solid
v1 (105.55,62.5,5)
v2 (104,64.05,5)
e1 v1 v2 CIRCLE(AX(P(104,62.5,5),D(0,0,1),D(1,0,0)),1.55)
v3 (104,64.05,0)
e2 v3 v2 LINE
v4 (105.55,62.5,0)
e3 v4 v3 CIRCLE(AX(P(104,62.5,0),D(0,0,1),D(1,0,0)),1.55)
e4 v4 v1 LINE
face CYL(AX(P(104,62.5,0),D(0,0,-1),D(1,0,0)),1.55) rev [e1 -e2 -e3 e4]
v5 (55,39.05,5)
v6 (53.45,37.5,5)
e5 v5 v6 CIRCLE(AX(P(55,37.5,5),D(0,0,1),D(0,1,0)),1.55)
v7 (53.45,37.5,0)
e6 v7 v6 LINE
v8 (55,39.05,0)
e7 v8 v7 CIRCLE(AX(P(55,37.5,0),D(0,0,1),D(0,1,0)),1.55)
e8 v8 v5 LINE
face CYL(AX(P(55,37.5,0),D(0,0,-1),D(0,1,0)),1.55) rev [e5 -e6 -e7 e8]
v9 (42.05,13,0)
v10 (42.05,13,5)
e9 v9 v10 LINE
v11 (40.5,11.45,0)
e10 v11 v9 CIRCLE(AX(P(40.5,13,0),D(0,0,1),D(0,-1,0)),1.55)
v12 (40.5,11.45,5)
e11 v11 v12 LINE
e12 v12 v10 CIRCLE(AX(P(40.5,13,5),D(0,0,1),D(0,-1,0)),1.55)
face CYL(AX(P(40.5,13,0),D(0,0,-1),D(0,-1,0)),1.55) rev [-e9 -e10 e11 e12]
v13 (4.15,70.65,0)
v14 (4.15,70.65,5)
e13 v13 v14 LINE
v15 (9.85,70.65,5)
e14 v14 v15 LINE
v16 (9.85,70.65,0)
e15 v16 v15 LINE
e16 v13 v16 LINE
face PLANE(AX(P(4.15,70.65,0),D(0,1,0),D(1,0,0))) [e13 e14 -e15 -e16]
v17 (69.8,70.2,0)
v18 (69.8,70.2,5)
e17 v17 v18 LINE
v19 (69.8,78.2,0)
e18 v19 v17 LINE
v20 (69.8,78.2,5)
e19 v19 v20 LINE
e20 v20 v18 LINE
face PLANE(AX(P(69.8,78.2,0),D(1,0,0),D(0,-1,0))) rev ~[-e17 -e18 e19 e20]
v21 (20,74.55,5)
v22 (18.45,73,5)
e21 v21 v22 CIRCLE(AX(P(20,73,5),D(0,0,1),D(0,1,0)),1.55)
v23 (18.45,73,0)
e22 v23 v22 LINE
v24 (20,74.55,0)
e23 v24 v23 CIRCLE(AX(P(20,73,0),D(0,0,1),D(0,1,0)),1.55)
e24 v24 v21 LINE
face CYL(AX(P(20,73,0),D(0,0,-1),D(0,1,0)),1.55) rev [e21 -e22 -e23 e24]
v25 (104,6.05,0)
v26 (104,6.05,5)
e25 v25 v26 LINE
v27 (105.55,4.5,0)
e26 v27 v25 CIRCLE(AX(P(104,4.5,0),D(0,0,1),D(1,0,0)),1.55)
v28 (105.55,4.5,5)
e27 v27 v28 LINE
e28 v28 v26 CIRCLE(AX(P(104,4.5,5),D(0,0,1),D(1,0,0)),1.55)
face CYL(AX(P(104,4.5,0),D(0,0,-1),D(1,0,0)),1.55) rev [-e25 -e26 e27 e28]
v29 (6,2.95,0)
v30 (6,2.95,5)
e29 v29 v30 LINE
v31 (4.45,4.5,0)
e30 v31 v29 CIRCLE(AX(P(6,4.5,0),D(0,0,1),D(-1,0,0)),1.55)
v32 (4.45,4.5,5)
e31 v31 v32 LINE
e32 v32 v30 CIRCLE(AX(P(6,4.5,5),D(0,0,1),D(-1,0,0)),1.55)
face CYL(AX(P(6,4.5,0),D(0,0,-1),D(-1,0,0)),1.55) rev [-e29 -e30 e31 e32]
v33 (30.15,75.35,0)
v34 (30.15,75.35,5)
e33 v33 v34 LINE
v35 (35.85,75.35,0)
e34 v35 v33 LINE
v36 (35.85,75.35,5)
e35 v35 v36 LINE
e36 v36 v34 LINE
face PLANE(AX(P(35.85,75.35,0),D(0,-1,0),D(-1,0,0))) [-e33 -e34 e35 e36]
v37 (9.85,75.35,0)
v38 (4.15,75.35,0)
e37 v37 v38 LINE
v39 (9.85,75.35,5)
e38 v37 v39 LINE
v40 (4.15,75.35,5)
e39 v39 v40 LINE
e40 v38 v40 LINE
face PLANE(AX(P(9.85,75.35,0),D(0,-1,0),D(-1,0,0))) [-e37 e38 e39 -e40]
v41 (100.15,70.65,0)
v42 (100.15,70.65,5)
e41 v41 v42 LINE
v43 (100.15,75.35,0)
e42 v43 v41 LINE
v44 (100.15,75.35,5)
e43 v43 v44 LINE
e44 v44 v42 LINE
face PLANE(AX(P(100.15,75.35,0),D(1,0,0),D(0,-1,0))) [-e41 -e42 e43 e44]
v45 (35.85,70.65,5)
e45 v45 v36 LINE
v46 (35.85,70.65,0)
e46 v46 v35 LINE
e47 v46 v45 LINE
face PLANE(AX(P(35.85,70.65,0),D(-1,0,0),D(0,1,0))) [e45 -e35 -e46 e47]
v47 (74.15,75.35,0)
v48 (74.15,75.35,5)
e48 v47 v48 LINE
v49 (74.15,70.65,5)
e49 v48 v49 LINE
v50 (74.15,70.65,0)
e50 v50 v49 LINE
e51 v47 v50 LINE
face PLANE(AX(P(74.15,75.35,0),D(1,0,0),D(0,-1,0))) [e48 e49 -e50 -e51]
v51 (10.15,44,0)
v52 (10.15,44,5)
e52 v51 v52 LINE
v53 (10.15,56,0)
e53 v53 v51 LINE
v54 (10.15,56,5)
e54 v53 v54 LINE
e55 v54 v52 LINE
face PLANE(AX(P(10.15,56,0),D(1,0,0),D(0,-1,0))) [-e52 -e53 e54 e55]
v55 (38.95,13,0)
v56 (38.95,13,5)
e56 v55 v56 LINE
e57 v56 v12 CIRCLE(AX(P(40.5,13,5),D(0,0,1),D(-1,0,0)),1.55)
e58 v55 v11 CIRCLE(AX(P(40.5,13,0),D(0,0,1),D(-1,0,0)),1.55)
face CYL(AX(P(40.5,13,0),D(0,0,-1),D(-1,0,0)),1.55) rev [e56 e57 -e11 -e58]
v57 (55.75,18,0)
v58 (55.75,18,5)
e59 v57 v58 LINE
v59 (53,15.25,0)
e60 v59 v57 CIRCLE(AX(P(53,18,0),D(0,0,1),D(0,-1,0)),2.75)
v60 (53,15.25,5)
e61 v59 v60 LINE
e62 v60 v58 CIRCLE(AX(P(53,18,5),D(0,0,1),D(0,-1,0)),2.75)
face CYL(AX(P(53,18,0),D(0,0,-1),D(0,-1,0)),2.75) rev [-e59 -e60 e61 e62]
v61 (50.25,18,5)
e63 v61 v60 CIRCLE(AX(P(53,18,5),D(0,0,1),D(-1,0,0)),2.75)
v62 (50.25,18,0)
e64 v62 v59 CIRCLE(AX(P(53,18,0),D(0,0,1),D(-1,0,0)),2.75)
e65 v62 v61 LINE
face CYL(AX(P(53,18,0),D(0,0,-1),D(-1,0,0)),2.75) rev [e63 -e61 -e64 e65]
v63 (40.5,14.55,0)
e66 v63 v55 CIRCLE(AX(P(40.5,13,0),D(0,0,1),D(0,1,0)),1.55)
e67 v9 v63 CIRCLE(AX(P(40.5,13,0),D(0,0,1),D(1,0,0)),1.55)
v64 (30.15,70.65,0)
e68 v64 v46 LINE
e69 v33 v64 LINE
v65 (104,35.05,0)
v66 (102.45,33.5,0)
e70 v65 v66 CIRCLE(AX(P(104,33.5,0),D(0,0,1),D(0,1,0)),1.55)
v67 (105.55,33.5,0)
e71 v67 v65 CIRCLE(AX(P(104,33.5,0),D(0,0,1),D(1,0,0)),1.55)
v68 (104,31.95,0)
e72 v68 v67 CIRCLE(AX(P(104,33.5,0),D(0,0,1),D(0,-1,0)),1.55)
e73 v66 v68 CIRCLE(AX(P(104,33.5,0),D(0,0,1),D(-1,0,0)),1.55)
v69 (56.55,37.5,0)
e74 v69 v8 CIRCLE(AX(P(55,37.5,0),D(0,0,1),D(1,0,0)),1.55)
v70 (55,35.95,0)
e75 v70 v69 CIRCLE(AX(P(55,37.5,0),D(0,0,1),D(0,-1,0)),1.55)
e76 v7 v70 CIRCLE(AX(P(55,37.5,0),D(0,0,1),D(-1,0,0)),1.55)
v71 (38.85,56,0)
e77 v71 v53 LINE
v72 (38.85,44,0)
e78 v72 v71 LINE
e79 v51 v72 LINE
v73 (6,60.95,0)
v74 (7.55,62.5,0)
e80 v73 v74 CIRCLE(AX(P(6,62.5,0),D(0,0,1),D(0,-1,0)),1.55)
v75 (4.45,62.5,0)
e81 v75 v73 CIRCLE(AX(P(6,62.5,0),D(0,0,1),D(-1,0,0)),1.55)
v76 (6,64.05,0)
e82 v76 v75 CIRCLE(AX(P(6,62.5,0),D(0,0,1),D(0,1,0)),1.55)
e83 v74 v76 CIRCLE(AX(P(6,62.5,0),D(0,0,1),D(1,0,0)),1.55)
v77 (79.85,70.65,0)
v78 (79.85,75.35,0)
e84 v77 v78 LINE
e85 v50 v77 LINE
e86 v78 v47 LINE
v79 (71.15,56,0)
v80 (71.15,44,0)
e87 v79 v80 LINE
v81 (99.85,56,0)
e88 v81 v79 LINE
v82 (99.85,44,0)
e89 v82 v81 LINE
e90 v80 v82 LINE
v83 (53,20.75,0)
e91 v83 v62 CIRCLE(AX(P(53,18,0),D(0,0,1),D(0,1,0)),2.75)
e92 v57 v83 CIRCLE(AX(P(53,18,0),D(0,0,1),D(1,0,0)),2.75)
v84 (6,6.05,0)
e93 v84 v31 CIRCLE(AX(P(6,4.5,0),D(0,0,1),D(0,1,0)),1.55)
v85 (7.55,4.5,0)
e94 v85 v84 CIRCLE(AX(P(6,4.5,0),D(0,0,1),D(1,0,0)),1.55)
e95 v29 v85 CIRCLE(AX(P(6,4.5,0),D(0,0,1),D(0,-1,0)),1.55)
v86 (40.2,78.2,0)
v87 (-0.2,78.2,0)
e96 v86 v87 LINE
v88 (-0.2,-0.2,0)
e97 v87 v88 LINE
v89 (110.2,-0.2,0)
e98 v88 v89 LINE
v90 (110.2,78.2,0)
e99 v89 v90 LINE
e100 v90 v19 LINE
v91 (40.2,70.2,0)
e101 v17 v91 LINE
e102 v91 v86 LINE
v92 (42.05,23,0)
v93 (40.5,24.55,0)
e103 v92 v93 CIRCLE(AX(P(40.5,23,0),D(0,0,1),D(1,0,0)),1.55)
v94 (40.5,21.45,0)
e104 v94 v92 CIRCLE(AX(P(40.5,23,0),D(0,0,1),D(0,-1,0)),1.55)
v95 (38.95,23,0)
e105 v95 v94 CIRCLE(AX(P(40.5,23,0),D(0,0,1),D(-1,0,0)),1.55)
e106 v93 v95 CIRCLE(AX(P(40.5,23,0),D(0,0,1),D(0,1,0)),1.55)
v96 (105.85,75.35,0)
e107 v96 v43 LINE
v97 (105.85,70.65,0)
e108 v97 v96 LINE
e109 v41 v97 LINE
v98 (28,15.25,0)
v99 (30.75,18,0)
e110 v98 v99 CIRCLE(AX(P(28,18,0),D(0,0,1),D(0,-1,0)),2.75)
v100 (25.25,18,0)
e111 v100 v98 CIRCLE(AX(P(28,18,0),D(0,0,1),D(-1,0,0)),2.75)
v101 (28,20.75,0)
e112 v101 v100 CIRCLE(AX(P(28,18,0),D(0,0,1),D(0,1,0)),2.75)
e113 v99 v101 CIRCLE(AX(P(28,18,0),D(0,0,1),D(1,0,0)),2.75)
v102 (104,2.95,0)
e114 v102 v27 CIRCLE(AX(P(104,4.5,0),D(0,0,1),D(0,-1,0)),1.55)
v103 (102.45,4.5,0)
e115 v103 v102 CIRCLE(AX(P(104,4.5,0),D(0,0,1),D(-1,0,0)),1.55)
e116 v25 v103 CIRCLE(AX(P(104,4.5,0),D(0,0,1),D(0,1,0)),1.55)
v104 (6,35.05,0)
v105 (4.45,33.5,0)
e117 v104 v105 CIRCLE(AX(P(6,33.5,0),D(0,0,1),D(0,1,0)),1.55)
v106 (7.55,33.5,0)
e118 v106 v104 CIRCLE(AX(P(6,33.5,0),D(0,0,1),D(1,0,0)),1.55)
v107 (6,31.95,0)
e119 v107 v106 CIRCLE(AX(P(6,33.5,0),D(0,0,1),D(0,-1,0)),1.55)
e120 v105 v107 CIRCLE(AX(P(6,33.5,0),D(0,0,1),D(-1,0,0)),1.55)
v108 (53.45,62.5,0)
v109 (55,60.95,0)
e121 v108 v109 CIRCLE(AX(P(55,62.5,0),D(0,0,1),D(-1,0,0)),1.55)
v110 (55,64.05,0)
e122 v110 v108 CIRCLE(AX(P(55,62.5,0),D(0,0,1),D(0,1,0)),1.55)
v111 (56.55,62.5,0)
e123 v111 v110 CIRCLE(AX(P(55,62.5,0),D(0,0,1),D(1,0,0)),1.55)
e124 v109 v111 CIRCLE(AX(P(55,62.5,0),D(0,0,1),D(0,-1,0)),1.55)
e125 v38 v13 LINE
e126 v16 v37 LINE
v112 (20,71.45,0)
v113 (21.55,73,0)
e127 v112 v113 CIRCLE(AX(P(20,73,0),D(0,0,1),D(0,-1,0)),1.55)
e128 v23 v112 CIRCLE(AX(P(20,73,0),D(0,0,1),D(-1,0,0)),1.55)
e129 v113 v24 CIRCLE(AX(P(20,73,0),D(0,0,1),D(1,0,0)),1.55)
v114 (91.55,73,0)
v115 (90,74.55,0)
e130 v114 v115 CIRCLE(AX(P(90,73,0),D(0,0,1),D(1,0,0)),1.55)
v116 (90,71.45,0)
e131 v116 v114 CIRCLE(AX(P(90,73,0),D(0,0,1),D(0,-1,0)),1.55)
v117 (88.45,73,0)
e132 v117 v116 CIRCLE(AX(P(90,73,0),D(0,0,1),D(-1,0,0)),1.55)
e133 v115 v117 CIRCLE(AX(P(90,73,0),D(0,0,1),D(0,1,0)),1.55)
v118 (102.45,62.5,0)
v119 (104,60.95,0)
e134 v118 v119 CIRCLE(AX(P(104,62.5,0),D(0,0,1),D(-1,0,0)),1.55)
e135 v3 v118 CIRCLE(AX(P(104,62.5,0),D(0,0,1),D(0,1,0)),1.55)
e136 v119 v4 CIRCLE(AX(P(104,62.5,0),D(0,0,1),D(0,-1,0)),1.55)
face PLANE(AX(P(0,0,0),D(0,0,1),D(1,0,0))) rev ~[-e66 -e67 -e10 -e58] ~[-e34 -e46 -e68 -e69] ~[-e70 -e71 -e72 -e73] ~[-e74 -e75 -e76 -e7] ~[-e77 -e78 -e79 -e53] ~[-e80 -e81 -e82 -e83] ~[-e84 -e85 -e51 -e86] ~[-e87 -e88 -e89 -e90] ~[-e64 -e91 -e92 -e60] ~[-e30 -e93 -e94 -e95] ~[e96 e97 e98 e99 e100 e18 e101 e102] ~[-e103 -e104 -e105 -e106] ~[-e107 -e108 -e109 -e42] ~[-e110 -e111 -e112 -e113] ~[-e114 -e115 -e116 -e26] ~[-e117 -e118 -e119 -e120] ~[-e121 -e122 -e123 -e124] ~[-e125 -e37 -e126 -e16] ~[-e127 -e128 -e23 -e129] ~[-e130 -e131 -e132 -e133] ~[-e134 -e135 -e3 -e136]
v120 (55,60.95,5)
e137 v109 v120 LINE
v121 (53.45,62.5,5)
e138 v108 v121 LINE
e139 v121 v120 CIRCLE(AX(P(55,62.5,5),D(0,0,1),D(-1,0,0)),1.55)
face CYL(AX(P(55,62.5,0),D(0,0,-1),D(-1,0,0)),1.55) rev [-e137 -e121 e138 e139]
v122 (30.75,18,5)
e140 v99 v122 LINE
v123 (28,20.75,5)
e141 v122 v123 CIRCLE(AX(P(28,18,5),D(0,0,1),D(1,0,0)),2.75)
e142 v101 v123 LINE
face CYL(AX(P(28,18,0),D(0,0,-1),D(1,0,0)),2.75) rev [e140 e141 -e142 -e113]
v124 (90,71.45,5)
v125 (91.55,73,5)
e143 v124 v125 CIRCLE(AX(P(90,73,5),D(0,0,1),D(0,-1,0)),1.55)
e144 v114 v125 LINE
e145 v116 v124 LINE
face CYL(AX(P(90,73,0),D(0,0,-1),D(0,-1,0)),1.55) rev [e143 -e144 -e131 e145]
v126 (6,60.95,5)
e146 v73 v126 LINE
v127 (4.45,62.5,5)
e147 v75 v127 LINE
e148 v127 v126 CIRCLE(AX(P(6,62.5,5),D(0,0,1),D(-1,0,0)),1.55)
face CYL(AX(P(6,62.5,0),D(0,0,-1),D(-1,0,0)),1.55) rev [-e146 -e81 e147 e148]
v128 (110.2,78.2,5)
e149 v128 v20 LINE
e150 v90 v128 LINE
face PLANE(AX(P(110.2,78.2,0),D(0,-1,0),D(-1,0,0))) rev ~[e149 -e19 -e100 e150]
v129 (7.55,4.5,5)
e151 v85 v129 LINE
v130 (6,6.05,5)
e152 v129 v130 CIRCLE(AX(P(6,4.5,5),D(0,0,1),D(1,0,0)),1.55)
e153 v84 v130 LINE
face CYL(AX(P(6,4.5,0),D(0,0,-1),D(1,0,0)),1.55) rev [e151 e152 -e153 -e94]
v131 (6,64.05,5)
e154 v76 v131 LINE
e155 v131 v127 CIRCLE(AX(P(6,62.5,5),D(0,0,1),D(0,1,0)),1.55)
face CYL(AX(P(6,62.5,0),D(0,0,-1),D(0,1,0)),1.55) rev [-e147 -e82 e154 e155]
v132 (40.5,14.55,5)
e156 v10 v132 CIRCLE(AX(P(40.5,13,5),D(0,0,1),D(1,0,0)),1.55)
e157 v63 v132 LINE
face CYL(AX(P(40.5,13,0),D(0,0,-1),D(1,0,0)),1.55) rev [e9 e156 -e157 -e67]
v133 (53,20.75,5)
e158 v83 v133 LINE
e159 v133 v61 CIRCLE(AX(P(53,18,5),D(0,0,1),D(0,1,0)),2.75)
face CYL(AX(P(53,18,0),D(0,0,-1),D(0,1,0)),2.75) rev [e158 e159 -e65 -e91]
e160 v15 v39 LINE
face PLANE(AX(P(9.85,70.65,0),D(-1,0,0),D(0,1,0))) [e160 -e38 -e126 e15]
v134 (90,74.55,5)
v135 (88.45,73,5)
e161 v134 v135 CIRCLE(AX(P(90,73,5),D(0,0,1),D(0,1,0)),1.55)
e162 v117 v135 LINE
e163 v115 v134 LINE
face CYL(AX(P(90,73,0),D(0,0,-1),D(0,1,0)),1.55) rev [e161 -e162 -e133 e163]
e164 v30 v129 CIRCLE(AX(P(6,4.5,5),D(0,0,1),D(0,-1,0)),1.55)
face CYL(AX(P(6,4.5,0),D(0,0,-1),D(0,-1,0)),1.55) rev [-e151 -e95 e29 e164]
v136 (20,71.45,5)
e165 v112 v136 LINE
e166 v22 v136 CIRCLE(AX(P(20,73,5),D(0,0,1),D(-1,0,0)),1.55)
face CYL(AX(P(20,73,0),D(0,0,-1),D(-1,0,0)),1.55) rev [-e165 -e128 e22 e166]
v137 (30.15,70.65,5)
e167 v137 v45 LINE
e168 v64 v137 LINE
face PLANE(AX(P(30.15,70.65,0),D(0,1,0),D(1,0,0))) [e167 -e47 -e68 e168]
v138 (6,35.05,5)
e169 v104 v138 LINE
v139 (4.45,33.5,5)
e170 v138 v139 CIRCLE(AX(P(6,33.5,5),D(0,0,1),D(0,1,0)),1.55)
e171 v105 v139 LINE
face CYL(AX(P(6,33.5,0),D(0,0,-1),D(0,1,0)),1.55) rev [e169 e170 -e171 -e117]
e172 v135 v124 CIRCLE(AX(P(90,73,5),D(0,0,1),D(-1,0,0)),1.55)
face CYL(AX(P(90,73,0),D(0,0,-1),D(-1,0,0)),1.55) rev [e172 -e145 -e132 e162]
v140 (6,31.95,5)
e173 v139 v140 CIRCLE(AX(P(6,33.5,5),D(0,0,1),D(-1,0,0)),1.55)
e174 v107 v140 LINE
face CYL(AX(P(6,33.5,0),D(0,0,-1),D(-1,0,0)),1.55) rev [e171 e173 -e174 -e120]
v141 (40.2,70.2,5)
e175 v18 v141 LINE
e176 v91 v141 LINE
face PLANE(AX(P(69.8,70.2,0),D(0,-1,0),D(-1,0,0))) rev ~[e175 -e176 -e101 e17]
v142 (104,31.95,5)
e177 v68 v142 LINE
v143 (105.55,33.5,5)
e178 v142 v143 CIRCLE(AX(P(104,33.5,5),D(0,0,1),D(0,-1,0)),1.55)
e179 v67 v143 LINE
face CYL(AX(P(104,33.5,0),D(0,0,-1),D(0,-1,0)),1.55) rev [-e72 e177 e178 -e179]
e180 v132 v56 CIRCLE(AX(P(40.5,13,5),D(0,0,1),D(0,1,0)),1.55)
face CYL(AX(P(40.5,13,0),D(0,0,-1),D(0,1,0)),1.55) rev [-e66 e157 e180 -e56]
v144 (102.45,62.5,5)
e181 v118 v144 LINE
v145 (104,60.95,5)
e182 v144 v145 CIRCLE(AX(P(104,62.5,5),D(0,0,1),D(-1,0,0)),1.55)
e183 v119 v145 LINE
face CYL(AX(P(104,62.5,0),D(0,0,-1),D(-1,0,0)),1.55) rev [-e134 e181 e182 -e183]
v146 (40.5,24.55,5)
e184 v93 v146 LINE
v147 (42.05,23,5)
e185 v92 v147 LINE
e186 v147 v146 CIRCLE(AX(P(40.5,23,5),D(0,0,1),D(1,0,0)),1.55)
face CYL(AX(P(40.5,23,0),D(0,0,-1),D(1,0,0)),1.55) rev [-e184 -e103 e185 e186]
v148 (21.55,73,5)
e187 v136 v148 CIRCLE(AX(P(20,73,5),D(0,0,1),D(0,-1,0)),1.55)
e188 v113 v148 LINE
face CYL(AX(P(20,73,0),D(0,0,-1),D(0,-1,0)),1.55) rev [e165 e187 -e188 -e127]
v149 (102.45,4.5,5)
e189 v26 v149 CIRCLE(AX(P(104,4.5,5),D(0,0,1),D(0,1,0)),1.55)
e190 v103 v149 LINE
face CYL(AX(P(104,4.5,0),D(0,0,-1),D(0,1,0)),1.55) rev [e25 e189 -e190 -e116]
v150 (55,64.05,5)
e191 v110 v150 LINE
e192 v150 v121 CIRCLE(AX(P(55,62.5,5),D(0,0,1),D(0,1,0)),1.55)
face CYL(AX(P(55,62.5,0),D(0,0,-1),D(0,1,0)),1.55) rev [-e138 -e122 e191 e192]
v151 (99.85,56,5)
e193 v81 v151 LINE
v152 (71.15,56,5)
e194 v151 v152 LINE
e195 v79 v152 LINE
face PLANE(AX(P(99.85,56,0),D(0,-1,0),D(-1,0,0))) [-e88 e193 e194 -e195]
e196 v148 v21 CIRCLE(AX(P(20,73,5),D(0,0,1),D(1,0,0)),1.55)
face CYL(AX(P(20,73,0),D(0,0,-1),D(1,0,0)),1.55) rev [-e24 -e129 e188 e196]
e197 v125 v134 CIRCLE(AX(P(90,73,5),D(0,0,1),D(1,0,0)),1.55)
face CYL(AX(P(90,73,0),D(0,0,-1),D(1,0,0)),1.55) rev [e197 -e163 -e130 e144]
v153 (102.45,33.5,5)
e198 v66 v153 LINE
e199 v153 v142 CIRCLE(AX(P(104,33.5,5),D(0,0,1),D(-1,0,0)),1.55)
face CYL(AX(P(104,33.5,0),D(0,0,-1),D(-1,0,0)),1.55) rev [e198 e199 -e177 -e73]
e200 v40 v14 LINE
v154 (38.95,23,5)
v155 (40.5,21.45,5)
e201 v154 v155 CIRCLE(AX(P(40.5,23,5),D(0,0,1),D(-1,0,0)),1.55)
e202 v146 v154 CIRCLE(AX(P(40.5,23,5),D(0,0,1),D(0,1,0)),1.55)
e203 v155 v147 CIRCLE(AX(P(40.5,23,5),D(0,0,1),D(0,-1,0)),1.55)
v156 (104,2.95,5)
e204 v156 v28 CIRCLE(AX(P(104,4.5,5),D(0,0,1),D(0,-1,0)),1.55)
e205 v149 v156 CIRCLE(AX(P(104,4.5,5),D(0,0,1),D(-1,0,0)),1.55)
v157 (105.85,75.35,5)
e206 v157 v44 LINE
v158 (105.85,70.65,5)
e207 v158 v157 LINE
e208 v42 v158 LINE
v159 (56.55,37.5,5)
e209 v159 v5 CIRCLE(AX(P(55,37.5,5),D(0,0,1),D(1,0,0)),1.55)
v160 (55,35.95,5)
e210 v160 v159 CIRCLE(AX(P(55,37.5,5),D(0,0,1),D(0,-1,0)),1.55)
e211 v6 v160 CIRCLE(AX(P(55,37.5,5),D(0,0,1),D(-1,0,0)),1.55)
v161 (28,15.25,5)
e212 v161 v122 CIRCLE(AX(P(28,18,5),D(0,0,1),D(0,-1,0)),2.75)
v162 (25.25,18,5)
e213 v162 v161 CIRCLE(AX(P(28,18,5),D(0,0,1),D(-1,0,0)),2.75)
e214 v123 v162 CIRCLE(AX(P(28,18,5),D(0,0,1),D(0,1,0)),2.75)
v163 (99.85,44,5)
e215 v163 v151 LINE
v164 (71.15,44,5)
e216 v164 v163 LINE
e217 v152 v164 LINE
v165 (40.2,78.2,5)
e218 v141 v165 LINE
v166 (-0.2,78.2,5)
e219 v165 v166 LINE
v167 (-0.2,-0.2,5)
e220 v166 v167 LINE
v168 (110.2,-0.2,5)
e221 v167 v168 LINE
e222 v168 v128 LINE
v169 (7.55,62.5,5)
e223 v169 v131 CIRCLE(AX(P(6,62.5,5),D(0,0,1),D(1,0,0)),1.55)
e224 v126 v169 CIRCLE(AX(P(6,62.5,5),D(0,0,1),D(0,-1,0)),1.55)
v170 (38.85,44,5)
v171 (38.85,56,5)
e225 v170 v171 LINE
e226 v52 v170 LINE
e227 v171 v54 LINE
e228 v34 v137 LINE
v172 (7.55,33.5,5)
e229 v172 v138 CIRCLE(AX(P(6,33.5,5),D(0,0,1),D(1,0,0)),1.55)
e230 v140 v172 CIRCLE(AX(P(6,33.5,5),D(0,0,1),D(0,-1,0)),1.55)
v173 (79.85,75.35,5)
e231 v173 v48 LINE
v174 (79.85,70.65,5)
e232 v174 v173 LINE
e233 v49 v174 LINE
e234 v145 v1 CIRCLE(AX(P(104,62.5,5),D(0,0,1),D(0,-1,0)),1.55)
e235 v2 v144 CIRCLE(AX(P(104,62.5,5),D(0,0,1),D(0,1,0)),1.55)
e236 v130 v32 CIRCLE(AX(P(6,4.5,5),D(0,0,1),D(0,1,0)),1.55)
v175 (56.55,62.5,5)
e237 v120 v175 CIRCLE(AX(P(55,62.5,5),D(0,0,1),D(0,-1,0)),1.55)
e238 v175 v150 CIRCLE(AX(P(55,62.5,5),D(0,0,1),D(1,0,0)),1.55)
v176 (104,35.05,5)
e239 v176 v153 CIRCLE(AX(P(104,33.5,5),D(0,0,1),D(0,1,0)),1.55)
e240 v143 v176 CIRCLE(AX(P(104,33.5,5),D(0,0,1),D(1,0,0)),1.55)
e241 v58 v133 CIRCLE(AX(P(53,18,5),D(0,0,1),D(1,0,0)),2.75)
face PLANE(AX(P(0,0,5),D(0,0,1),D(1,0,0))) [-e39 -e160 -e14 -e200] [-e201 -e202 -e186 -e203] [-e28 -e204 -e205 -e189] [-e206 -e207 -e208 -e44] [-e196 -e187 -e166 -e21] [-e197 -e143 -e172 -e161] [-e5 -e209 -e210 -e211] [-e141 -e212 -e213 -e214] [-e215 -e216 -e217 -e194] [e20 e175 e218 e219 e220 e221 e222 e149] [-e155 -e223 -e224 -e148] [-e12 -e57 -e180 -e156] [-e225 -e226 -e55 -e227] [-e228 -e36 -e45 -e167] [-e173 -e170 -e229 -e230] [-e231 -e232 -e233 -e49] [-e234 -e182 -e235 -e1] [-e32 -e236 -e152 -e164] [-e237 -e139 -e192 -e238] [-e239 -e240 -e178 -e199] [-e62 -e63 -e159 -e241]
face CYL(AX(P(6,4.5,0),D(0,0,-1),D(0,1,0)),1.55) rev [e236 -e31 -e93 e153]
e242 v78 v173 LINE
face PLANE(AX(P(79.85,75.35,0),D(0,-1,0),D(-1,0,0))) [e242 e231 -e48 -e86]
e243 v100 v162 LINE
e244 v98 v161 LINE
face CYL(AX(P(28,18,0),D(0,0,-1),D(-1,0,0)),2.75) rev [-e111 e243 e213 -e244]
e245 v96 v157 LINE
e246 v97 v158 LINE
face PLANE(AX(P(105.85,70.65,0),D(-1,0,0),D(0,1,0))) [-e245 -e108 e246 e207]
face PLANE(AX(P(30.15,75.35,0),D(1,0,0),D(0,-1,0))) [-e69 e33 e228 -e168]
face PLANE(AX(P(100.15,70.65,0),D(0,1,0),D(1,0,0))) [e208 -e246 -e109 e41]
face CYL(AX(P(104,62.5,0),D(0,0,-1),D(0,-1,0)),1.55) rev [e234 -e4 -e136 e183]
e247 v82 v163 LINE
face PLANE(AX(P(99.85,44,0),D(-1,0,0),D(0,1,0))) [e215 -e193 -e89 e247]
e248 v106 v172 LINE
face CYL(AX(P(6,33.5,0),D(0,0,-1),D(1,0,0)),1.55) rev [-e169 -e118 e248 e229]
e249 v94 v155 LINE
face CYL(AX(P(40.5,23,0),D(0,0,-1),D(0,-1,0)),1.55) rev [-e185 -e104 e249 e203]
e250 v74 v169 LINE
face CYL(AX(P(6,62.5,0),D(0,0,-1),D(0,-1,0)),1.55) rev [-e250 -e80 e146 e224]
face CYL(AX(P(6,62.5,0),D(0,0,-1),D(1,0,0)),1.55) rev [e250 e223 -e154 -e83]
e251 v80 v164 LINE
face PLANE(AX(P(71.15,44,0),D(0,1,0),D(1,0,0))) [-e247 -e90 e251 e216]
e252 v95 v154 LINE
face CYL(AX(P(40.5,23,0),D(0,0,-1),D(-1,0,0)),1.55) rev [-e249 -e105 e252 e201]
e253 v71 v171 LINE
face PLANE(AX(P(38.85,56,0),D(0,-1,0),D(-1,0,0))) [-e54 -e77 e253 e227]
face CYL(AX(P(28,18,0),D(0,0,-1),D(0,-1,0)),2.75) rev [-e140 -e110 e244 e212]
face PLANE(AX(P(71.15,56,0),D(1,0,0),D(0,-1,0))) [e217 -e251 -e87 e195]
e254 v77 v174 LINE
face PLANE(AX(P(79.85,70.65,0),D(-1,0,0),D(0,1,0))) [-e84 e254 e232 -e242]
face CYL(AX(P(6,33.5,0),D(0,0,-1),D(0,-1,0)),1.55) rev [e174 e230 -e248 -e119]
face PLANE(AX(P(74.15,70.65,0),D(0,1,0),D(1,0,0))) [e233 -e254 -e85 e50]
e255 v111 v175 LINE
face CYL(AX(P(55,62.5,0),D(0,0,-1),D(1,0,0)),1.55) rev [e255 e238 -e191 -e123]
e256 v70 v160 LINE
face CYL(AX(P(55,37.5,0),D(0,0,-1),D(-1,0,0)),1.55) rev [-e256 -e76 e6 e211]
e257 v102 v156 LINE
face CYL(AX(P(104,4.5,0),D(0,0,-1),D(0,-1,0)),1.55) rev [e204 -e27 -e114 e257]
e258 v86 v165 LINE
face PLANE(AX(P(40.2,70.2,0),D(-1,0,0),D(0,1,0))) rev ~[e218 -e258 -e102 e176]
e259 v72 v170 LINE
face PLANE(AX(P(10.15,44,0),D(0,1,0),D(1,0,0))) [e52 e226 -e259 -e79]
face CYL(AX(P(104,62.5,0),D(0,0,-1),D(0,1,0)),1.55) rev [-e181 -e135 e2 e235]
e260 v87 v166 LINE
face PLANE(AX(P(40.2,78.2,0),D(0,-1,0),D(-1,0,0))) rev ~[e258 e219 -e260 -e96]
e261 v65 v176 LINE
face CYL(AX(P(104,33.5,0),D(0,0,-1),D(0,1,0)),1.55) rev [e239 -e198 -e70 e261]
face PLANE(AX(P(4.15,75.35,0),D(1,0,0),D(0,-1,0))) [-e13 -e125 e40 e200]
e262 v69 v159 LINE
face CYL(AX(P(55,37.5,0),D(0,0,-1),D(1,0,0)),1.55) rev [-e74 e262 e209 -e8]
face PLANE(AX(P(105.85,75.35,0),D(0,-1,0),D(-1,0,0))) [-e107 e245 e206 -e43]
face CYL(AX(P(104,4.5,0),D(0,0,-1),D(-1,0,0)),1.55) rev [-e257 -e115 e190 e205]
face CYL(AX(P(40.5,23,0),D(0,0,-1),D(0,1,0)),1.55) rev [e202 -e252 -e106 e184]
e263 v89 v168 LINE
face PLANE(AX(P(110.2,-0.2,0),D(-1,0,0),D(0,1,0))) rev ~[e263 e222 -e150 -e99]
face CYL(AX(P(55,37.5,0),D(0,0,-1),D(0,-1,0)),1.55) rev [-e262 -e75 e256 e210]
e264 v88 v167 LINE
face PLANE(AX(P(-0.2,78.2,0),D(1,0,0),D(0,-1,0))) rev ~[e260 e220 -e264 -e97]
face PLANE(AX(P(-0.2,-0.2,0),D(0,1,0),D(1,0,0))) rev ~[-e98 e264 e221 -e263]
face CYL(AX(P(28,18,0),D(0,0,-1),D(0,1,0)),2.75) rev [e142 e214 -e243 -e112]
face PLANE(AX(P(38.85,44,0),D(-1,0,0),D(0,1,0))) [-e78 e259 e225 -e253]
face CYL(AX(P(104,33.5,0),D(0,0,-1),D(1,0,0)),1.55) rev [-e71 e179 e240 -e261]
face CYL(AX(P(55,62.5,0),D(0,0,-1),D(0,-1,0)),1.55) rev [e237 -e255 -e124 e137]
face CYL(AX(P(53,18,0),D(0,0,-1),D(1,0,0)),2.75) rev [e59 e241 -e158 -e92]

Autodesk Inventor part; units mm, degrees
ref_plane "YZ Plane" through (0, 0, 0) normal (1, 0, 0) x (0, 1, 0)
ref_plane "XZ Plane" through (0, 0, 0) normal (0, 1, 0) x (-1, 0, 0)
ref_plane "XY Plane" through (0, 0, 0) normal (0, 0, 1) x (1, 0, 0)
sketch "Boceto1" plane through (0, 0, 0) normal (0, 0, 1) x (1, 0, 0)
  arc A0 (6, 64.05) -> (4.45, 62.5) centre (6, 62.5) ccw
  arc A1 (4.45, 62.5) -> (6, 60.95) centre (6, 62.5) ccw
  arc A2 (6, 60.95) -> (7.55, 62.5) centre (6, 62.5) ccw
  arc A3 (7.55, 62.5) -> (6, 64.05) centre (6, 62.5) ccw
  arc A4 (55, 64.05) -> (53.45, 62.5) centre (55, 62.5) ccw
  arc A5 (53.45, 62.5) -> (55, 60.95) centre (55, 62.5) ccw
  arc A6 (55, 60.95) -> (56.55, 62.5) centre (55, 62.5) ccw
  arc A7 (56.55, 62.5) -> (55, 64.05) centre (55, 62.5) ccw
  arc A8 (104, 64.05) -> (102.45, 62.5) centre (104, 62.5) ccw
  arc A9 (102.45, 62.5) -> (104, 60.95) centre (104, 62.5) ccw
  arc A10 (104, 60.95) -> (105.55, 62.5) centre (104, 62.5) ccw
  arc A11 (105.55, 62.5) -> (104, 64.05) centre (104, 62.5) ccw
  arc A12 (6, 35.05) -> (4.45, 33.5) centre (6, 33.5) ccw
  arc A13 (4.45, 33.5) -> (6, 31.95) centre (6, 33.5) ccw
  arc A14 (6, 31.95) -> (7.55, 33.5) centre (6, 33.5) ccw
  arc A15 (7.55, 33.5) -> (6, 35.05) centre (6, 33.5) ccw
  arc A16 (55, 39.05) -> (53.45, 37.5) centre (55, 37.5) ccw
  arc A17 (53.45, 37.5) -> (55, 35.95) centre (55, 37.5) ccw
  arc A18 (55, 35.95) -> (56.55, 37.5) centre (55, 37.5) ccw
  arc A19 (56.55, 37.5) -> (55, 39.05) centre (55, 37.5) ccw
  arc A20 (104, 35.05) -> (102.45, 33.5) centre (104, 33.5) ccw
  arc A21 (102.45, 33.5) -> (104, 31.95) centre (104, 33.5) ccw
  arc A22 (104, 31.95) -> (105.55, 33.5) centre (104, 33.5) ccw
  arc A23 (105.55, 33.5) -> (104, 35.05) centre (104, 33.5) ccw
  arc A24 (6, 6.05) -> (4.45, 4.5) centre (6, 4.5) ccw
  arc A25 (4.45, 4.5) -> (6, 2.95) centre (6, 4.5) ccw
  arc A26 (6, 2.95) -> (7.55, 4.5) centre (6, 4.5) ccw
  arc A27 (7.55, 4.5) -> (6, 6.05) centre (6, 4.5) ccw
  arc A28 (104, 6.05) -> (102.45, 4.5) centre (104, 4.5) ccw
  arc A29 (102.45, 4.5) -> (104, 2.95) centre (104, 4.5) ccw
  arc A30 (104, 2.95) -> (105.55, 4.5) centre (104, 4.5) ccw
  arc A31 (105.55, 4.5) -> (104, 6.05) centre (104, 4.5) ccw
  arc A32 (40.5, 24.55) -> (38.95, 23) centre (40.5, 23) ccw
  arc A33 (38.95, 23) -> (40.5, 21.45) centre (40.5, 23) ccw
  arc A34 (40.5, 21.45) -> (42.05, 23) centre (40.5, 23) ccw
  arc A35 (42.05, 23) -> (40.5, 24.55) centre (40.5, 23) ccw
  arc A36 (40.5, 14.55) -> (38.95, 13) centre (40.5, 13) ccw
  arc A37 (38.95, 13) -> (40.5, 11.45) centre (40.5, 13) ccw
  arc A38 (40.5, 11.45) -> (42.05, 13) centre (40.5, 13) ccw
  arc A39 (42.05, 13) -> (40.5, 14.55) centre (40.5, 13) ccw
  arc A40 (20, 74.55) -> (18.45, 73) centre (20, 73) ccw
  arc A41 (18.45, 73) -> (20, 71.45) centre (20, 73) ccw
  arc A42 (20, 71.45) -> (21.55, 73) centre (20, 73) ccw
  arc A43 (21.55, 73) -> (20, 74.55) centre (20, 73) ccw
  arc A44 (90, 74.55) -> (88.45, 73) centre (90, 73) ccw
  arc A45 (88.45, 73) -> (90, 71.45) centre (90, 73) ccw
  arc A46 (90, 71.45) -> (91.55, 73) centre (90, 73) ccw
  arc A47 (91.55, 73) -> (90, 74.55) centre (90, 73) ccw
  line L0 (9.85, 75.35) -> (4.15, 75.35)
  line L1 (4.15, 75.35) -> (4.15, 70.65)
  line L2 (4.15, 70.65) -> (9.85, 70.65)
  line L3 (9.85, 70.65) -> (9.85, 75.35)
  line L4 (35.85, 70.65) -> (35.85, 75.35)
  line L5 (35.85, 75.35) -> (30.15, 75.35)
  line L6 (30.15, 75.35) -> (30.15, 70.65)
  line L7 (30.15, 70.65) -> (35.85, 70.65)
  line L8 (74.15, 70.65) -> (79.85, 70.65)
  line L9 (79.85, 70.65) -> (79.85, 75.35)
  line L10 (79.85, 75.35) -> (74.15, 75.35)
  line L11 (74.15, 75.35) -> (74.15, 70.65)
  line L12 (105.85, 70.65) -> (105.85, 75.35)
  line L13 (105.85, 75.35) -> (100.15, 75.35)
  line L14 (100.15, 75.35) -> (100.15, 70.65)
  line L15 (100.15, 70.65) -> (105.85, 70.65)
  line L16 (38.85, 44) -> (38.85, 56)
  line L17 (38.85, 56) -> (10.15, 56)
  line L18 (10.15, 56) -> (10.15, 44)
  line L19 (10.15, 44) -> (38.85, 44)
  line L20 (71.15, 44) -> (99.85, 44)
  line L21 (99.85, 44) -> (99.85, 56)
  line L22 (99.85, 56) -> (71.15, 56)
  line L23 (71.15, 56) -> (71.15, 44)
  line L24 (-0.2, -0.2) -> (110.2, -0.2)
  line L25 (110.2, -0.2) -> (110.2, 78.2)
  line L26 (110.2, 78.2) -> (69.8, 78.2)
  line L27 (69.8, 78.2) -> (69.8, 70.2)
  line L28 (69.8, 70.2) -> (40.2, 70.2)
  line L29 (40.2, 70.2) -> (40.2, 78.2)
  line L30 (40.2, 78.2) -> (-0.2, 78.2)
  line L31 (-0.2, 78.2) -> (-0.2, -0.2)
  arc A48 (28, 20.75) -> (25.25, 18) centre (28, 18) ccw
  arc A49 (25.25, 18) -> (28, 15.25) centre (28, 18) ccw
  arc A50 (28, 15.25) -> (30.75, 18) centre (28, 18) ccw
  arc A51 (30.75, 18) -> (28, 20.75) centre (28, 18) ccw
  arc A52 (53, 20.75) -> (50.25, 18) centre (53, 18) ccw
  arc A53 (50.25, 18) -> (53, 15.25) centre (53, 18) ccw
  arc A54 (53, 15.25) -> (55.75, 18) centre (53, 18) ccw
  arc A55 (55.75, 18) -> (53, 20.75) centre (53, 18) ccw
  point P0 (0, 0)
extrude "Extrusión1" add sketch "Boceto1" along normal blind 5
properties part number "carro x lado polea pieza1"
